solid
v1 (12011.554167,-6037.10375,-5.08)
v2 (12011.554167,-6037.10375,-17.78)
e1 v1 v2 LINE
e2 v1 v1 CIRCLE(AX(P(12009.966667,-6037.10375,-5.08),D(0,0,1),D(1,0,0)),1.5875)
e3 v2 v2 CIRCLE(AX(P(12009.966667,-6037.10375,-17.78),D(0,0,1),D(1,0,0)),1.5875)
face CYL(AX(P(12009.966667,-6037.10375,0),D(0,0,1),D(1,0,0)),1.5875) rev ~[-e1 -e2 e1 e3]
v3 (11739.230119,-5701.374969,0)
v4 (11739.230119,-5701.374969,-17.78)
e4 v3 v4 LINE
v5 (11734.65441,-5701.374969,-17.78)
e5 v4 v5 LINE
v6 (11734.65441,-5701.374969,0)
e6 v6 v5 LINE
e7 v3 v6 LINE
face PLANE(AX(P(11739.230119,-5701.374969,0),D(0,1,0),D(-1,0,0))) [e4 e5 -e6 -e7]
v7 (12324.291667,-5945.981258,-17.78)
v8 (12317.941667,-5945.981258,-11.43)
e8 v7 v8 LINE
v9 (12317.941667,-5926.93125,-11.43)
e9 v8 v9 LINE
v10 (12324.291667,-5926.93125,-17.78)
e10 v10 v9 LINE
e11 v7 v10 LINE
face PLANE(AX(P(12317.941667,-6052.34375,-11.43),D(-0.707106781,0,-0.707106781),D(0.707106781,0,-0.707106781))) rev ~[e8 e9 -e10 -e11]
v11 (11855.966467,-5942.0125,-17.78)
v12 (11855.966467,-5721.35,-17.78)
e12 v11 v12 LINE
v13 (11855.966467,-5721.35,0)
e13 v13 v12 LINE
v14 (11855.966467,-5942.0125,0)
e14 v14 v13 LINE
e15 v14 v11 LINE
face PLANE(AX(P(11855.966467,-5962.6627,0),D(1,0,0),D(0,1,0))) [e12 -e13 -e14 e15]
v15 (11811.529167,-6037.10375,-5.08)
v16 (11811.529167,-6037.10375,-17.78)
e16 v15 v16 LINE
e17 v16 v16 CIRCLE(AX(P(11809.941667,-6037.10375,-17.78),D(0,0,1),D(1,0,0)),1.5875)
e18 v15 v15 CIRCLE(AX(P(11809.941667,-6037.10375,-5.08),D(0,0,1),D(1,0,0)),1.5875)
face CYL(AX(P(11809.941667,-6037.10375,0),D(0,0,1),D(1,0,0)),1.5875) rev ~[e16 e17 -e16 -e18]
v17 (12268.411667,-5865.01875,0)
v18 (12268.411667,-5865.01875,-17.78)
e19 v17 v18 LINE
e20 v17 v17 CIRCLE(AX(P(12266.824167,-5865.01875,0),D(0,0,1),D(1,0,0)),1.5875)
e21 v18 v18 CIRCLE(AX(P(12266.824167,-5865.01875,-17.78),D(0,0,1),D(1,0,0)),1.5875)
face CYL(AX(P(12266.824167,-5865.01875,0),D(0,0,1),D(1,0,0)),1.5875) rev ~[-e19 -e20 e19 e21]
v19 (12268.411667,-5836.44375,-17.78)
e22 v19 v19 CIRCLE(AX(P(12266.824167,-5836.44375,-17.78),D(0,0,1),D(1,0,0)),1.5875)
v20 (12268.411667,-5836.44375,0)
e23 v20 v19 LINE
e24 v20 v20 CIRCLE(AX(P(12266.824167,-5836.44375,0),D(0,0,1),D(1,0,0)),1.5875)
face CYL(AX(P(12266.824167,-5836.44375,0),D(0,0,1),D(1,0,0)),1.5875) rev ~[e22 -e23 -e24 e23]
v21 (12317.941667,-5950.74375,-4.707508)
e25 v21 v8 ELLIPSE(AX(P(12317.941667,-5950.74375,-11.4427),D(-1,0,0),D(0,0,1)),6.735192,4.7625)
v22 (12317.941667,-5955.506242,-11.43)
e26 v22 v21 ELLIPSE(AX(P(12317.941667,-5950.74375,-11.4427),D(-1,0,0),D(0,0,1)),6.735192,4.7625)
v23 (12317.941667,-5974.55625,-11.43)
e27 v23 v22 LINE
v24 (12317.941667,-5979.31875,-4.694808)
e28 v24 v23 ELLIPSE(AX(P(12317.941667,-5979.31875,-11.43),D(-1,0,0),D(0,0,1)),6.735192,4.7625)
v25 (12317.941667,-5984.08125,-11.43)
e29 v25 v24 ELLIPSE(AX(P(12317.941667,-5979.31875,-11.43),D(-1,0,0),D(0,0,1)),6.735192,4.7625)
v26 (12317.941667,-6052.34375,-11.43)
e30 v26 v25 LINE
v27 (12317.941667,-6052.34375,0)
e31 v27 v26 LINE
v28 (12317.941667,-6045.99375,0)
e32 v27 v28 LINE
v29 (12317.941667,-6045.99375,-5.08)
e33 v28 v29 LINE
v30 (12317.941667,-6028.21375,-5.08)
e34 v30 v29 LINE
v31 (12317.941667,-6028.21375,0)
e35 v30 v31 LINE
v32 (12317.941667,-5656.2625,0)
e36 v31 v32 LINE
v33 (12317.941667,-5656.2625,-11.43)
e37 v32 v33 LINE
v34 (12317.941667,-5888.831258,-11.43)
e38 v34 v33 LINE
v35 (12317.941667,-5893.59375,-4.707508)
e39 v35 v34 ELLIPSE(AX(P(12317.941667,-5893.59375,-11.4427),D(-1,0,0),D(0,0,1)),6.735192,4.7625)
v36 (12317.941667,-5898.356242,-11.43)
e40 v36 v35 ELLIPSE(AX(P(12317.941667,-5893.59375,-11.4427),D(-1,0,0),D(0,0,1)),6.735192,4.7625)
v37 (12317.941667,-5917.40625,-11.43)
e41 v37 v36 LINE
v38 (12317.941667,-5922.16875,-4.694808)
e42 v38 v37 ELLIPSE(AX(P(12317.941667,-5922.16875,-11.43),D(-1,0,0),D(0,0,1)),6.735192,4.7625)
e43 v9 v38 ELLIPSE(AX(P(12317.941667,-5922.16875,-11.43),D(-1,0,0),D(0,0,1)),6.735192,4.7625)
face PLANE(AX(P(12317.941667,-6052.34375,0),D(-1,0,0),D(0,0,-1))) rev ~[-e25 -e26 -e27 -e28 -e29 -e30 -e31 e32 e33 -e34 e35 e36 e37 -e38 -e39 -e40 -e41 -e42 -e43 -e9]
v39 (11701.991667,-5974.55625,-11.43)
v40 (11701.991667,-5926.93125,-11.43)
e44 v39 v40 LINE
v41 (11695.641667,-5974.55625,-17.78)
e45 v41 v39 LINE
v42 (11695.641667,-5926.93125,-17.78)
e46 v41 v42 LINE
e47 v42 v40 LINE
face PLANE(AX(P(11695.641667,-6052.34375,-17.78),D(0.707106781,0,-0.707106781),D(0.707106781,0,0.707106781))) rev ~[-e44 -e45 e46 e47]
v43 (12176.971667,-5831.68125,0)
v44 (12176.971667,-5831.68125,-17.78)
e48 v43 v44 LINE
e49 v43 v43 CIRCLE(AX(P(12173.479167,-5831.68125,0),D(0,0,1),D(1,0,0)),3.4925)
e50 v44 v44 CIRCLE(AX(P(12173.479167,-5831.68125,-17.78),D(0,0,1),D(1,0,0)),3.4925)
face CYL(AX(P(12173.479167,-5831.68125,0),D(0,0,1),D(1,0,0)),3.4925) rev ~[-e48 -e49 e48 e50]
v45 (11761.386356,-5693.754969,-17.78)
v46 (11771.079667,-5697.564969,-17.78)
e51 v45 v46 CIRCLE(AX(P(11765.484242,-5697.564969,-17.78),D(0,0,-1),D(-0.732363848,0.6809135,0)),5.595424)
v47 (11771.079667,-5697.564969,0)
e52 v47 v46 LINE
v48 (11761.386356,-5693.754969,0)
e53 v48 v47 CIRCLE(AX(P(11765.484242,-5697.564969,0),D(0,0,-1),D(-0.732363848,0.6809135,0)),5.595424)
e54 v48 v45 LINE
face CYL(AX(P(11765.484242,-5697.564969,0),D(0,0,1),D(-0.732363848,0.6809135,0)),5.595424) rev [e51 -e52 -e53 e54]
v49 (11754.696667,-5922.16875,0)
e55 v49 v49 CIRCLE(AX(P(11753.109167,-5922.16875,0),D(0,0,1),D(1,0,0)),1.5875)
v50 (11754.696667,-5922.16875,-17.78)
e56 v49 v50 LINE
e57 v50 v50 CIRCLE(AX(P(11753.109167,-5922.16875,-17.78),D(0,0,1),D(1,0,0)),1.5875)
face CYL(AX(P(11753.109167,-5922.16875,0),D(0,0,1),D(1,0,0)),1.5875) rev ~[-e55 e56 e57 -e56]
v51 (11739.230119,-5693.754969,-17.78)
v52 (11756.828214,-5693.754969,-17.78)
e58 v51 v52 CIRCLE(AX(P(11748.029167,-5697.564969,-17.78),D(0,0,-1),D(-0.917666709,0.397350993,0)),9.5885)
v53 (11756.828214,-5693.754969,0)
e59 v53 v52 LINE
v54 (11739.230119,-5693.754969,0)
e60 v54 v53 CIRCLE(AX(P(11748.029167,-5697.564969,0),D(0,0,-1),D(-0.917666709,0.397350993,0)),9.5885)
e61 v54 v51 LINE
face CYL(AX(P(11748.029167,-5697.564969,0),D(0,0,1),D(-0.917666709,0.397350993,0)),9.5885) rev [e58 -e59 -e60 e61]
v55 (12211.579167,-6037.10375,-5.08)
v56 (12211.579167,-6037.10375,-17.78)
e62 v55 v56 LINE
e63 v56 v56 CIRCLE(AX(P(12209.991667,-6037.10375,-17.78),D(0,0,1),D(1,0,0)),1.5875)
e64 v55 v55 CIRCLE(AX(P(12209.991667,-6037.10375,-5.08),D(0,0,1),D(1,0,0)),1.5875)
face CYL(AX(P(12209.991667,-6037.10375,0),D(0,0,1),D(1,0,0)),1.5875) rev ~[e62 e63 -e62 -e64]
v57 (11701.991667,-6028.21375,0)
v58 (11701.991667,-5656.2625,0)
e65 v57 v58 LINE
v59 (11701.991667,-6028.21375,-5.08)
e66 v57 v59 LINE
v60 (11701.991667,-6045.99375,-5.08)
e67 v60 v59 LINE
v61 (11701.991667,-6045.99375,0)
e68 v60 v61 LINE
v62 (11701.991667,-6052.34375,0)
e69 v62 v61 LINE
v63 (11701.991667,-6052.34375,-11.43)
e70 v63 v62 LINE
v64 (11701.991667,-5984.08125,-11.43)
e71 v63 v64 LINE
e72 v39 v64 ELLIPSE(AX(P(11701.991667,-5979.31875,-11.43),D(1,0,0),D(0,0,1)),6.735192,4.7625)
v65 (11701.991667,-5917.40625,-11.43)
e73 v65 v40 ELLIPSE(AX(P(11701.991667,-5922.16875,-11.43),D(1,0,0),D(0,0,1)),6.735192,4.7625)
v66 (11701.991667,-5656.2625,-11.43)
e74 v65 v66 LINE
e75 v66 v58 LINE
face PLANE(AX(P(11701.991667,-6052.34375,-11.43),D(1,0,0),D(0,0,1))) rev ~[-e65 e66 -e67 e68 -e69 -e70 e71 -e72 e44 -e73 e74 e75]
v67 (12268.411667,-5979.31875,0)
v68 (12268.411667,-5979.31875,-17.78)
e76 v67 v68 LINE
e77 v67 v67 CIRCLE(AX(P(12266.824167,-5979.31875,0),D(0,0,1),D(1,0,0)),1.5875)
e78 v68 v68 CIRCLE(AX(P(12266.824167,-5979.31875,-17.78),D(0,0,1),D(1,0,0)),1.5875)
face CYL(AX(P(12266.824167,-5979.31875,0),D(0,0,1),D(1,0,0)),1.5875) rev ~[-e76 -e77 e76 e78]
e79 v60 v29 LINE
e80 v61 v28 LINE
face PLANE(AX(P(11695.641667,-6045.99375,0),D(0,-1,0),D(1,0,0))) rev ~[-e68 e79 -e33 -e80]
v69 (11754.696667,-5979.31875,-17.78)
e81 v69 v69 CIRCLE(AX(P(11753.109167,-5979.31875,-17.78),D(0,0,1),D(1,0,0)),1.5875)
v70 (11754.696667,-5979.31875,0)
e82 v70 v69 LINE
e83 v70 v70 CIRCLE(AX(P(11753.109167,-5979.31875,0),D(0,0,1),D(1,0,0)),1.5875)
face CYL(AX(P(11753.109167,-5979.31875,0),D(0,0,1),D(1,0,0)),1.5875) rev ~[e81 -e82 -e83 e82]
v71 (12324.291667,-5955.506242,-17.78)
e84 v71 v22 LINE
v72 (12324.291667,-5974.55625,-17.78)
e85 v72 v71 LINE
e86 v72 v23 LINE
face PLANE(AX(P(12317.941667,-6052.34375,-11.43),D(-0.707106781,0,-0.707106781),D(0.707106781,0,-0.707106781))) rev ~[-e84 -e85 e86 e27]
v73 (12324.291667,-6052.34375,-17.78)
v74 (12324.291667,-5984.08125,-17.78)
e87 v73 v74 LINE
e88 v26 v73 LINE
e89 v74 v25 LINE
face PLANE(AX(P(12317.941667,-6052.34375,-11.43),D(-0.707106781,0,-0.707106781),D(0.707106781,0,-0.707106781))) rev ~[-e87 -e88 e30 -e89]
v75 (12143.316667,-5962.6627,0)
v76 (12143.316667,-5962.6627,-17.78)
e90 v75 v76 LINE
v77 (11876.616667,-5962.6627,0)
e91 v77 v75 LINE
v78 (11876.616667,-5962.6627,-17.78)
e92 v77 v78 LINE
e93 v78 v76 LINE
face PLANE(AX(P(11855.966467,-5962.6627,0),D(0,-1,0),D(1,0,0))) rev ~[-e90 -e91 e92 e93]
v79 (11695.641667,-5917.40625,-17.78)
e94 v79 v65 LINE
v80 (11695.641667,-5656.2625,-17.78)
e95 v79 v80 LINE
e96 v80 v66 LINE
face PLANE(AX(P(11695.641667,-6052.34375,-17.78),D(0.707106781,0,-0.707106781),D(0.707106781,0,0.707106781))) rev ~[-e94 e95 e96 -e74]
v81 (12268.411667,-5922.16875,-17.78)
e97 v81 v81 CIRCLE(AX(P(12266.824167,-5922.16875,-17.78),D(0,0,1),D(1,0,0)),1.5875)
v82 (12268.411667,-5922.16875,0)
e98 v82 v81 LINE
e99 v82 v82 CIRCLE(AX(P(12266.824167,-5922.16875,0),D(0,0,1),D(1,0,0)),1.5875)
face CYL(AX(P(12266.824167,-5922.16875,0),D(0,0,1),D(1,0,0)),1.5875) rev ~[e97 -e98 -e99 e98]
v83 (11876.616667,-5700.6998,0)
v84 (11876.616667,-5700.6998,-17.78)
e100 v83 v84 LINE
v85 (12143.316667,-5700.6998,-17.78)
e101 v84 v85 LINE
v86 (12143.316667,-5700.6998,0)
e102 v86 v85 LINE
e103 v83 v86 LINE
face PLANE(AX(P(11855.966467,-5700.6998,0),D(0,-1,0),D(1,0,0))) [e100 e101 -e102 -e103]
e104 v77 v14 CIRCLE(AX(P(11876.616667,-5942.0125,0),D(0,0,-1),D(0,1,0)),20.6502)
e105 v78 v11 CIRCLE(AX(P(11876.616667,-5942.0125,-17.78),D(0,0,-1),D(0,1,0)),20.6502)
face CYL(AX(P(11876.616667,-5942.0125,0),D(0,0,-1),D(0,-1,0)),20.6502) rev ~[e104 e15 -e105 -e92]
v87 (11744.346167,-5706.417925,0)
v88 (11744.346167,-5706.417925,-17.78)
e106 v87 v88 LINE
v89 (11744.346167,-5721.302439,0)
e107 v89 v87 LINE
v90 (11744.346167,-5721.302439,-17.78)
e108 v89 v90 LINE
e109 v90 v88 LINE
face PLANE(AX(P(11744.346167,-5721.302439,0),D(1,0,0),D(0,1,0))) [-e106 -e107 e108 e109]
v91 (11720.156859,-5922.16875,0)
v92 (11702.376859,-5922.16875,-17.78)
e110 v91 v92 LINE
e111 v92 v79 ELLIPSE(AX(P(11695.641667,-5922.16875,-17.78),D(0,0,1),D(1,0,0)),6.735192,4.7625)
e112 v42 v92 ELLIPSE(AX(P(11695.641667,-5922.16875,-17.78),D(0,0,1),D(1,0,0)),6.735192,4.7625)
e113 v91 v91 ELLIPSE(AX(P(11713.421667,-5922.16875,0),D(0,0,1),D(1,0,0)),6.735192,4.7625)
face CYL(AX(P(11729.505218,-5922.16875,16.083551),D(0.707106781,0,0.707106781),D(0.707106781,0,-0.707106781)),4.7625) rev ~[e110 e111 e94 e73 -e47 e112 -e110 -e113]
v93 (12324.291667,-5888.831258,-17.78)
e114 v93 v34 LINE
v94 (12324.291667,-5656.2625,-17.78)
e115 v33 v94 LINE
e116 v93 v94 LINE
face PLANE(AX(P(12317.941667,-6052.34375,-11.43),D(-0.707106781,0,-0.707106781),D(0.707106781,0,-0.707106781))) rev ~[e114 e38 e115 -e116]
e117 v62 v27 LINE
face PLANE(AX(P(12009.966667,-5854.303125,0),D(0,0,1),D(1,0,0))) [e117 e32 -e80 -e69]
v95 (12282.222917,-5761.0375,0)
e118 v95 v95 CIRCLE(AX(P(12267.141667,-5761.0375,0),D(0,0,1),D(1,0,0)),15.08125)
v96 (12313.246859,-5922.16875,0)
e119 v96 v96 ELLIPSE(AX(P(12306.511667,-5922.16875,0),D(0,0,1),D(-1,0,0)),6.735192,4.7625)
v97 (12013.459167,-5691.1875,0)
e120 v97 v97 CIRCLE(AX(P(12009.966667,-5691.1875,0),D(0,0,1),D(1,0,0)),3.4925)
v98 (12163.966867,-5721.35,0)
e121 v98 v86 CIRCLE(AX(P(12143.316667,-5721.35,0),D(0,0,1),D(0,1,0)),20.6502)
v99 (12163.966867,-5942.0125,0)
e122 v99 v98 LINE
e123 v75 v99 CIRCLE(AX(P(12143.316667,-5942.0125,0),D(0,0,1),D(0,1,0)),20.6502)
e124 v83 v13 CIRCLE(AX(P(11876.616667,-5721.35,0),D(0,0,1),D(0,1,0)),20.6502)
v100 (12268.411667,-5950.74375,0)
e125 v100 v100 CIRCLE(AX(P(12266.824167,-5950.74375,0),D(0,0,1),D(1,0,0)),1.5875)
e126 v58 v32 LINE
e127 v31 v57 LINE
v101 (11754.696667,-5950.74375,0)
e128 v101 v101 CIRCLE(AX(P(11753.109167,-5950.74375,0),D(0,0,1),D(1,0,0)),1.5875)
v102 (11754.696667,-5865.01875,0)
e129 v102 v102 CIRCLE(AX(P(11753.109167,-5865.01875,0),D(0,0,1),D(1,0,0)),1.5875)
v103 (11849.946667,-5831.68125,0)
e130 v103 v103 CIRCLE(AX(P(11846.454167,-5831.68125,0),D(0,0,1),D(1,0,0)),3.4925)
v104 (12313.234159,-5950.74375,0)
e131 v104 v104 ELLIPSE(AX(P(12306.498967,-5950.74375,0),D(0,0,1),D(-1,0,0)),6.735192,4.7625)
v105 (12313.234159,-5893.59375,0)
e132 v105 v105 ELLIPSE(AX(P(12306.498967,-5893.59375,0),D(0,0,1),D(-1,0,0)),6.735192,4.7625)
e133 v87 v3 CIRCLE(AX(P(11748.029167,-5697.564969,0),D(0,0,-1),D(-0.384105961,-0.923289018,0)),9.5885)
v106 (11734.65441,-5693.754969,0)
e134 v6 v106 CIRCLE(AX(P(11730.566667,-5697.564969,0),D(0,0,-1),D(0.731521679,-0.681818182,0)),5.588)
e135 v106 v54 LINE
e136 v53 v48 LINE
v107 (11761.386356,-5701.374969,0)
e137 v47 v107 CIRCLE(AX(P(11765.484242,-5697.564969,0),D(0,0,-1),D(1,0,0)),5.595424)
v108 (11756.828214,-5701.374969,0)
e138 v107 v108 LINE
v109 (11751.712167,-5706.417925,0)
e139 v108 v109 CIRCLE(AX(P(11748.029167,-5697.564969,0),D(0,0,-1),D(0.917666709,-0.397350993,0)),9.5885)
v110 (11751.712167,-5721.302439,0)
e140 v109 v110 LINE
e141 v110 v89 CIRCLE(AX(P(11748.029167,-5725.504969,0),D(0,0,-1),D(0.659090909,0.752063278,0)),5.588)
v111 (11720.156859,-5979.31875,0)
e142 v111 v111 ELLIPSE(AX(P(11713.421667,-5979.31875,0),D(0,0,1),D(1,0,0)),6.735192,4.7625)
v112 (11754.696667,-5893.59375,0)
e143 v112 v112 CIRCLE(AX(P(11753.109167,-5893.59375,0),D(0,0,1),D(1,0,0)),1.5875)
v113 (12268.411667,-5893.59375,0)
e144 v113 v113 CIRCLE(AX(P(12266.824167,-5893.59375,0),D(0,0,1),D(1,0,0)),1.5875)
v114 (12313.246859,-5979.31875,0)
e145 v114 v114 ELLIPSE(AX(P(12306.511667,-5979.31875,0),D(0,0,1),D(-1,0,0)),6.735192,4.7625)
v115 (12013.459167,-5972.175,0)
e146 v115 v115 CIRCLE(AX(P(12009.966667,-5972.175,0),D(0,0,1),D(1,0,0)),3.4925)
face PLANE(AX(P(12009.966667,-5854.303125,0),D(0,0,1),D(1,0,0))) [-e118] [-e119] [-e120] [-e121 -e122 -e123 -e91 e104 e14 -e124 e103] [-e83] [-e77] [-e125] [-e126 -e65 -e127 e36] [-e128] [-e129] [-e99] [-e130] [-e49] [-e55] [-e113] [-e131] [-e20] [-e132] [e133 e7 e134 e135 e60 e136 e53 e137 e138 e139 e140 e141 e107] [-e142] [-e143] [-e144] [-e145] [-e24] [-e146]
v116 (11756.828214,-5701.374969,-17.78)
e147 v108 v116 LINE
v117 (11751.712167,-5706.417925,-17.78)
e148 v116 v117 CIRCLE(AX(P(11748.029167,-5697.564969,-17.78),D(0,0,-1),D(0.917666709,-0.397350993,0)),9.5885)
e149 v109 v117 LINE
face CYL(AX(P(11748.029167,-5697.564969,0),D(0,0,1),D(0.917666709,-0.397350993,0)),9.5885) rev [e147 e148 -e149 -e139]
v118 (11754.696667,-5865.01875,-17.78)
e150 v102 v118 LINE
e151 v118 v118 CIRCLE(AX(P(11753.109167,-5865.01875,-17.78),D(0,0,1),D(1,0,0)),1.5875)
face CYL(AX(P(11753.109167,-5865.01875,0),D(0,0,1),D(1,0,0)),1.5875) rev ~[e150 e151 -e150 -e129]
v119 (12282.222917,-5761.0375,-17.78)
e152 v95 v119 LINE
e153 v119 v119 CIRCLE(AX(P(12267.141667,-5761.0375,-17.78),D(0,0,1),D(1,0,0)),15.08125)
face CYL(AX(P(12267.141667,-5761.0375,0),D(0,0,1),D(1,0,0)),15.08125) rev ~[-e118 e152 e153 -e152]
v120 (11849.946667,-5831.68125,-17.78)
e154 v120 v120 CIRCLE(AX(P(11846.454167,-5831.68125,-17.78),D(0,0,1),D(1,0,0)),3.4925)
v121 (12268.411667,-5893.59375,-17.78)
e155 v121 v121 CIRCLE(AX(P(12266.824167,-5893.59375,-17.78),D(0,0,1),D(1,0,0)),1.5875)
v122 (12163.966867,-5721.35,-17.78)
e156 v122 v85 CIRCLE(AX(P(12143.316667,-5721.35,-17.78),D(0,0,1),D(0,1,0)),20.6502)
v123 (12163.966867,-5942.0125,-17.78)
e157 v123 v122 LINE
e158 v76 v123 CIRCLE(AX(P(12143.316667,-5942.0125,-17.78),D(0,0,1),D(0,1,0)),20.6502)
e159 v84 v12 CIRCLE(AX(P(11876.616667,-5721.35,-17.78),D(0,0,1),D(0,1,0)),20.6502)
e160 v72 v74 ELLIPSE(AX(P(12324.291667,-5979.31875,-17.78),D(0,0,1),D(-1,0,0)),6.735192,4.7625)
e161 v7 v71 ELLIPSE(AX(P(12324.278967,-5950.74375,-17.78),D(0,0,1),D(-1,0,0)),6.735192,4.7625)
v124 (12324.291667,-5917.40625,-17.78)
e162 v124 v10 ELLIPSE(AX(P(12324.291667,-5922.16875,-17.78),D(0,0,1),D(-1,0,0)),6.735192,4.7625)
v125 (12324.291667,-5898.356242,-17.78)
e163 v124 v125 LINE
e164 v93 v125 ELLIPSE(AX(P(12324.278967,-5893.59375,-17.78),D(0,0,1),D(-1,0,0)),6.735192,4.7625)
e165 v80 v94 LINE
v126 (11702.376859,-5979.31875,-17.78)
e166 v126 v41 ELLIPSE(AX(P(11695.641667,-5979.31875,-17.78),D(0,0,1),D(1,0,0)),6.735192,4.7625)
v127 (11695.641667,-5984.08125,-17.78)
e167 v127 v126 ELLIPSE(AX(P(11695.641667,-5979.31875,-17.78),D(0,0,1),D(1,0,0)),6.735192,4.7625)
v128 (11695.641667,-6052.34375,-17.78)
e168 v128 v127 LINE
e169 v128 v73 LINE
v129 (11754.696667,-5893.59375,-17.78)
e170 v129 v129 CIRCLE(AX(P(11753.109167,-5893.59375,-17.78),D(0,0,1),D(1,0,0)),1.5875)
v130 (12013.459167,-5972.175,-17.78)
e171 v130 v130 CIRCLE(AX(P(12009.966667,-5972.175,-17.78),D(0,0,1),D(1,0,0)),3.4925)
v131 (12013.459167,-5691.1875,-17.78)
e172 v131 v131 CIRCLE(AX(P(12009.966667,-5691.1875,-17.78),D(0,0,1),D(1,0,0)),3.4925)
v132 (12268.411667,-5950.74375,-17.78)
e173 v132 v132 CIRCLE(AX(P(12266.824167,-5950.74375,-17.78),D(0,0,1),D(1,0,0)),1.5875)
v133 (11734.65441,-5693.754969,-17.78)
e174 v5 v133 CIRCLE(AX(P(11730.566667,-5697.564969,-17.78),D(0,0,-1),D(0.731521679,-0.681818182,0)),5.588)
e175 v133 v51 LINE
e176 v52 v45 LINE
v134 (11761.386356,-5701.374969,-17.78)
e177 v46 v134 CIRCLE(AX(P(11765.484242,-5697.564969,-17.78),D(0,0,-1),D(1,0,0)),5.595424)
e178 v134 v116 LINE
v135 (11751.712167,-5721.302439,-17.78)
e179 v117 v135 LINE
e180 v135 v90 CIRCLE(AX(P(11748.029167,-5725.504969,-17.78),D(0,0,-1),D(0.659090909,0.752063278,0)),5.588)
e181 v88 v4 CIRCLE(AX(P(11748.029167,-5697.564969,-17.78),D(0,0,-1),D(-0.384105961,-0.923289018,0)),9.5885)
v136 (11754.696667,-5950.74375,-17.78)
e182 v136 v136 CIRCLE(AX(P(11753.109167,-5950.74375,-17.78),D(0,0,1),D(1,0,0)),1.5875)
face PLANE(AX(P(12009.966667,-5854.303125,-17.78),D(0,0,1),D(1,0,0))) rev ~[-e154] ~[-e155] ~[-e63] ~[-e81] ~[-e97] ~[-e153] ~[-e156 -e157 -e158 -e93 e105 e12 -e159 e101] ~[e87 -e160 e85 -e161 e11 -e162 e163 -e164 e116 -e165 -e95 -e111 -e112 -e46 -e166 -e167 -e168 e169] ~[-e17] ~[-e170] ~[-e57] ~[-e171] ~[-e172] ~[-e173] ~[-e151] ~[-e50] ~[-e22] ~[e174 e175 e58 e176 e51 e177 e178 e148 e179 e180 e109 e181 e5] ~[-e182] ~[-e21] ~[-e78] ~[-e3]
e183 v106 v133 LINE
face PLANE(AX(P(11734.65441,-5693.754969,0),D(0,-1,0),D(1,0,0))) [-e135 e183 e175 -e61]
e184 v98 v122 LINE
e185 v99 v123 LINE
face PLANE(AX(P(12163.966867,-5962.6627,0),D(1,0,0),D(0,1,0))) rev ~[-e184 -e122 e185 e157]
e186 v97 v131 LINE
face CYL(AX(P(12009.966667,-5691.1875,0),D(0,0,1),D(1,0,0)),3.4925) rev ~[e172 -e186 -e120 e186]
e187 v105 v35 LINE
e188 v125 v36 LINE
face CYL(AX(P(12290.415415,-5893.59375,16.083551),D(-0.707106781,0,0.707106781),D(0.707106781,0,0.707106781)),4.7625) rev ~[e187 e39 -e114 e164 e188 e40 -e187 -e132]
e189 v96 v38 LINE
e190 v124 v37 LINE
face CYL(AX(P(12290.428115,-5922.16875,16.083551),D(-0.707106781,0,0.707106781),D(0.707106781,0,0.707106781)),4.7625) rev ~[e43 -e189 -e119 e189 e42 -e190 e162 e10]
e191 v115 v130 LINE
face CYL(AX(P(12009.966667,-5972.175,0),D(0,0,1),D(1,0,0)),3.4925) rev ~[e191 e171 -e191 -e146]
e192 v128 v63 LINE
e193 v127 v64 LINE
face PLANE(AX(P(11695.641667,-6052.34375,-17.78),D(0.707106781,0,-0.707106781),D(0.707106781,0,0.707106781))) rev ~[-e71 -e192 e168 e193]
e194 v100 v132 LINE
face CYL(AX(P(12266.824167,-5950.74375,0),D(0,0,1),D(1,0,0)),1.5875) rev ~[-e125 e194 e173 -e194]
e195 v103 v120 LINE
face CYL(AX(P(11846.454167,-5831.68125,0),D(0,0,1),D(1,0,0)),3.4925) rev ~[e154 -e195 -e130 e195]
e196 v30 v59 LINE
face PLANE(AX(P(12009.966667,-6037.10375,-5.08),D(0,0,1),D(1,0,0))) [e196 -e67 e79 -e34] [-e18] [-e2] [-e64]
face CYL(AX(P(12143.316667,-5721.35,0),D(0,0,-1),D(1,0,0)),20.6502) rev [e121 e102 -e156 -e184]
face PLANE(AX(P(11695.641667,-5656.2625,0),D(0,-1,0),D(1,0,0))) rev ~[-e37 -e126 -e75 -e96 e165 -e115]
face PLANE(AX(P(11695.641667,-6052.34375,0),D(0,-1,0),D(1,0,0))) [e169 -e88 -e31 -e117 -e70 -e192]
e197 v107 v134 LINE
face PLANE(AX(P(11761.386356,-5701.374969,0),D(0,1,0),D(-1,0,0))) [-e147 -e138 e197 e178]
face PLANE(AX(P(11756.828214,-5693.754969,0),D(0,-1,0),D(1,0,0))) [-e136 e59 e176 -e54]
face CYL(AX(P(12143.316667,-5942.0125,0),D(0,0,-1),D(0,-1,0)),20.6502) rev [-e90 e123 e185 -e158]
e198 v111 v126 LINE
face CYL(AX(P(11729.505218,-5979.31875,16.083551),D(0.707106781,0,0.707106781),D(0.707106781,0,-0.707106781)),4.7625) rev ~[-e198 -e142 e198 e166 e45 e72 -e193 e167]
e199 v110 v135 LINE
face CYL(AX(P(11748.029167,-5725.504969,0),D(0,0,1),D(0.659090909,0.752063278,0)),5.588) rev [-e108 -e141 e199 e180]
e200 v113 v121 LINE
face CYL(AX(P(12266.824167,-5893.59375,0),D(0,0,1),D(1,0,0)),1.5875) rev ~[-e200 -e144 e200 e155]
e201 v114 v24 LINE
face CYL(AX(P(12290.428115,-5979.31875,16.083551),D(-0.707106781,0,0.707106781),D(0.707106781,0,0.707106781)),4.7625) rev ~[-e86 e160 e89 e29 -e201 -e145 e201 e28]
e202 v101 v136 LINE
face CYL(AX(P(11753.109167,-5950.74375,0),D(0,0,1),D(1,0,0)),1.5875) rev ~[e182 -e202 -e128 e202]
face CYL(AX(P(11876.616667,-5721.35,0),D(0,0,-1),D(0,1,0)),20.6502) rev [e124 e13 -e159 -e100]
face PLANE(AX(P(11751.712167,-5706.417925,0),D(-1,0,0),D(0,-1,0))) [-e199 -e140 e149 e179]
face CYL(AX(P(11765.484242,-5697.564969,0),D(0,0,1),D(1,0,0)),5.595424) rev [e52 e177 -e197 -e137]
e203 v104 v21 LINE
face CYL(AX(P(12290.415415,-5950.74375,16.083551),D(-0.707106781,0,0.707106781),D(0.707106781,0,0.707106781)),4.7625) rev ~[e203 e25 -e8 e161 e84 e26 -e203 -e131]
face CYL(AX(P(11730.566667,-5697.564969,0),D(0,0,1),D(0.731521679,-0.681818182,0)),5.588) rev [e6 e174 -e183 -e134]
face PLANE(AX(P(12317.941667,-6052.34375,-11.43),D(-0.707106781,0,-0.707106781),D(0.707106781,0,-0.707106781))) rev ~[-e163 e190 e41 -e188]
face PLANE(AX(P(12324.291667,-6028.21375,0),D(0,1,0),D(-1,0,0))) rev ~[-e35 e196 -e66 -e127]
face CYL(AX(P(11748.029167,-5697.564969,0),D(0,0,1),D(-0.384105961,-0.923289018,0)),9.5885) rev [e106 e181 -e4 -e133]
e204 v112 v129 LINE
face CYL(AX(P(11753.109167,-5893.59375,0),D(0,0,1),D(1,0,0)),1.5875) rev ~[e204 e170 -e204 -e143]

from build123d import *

# Parameters (mm, degrees)
CABFRONTOUTLINE_W               = 628.65
CABFRONTOUTLINE_H               = 396.08125
CABFRONT_THICKNESS_DEPTH        = 17.78
CABFRONT_COINDOORCUTS_R         = 1.5875
CABFRONT_COINDOORCUTS_R_2       = 15.08125
CABFRONT_COINDOORCUTS_R_3       = 3.4925
CABFRONT_COINDOORCUTS_W         = 308.0004
CABFRONT_COINDOORCUTS_H         = 261.9629
CUT_EXTRUDE1_DEPTH              = 17.78
CABFRONTBOTTOMLEDGE_DEPTH_DEPTH = 5.08
CUT_EXTRUDE4_DEPTH              = 396.08125
FILLET1_R                       = 20.6502
SKETCH2_R                       = 4.7625
CUT_EXTRUDE5_DEPTH              = 76.2
SKETCH3_R                       = 4.7625
CUT_EXTRUDE6_DEPTH              = 76.2
SKETCH4_R                       = 4.7625
CUT_EXTRUDE7_DEPTH              = 76.2


with BuildPart() as part:
    # CabFrontOutline → CabFront_Thickness (new body)
    with BuildSketch(Plane.XY):
        with Locations((12009.966666666, -5854.303125)):
            Rectangle(CABFRONTOUTLINE_W, CABFRONTOUTLINE_H)
    extrude(amount=-CABFRONT_THICKNESS_DEPTH)

    # CabFront_CoinDoorCuts → Cut-Extrude1 (cut)
    with BuildSketch(Plane.XY):
        with Locations((11753.109166666, -5893.59375)):
            Circle(CABFRONT_COINDOORCUTS_R)
        with Locations((11753.109166666, -5950.74375)):
            Circle(CABFRONT_COINDOORCUTS_R)
        with Locations((12266.824166666, -5893.59375)):
            Circle(CABFRONT_COINDOORCUTS_R)
        with Locations((12266.824166666, -5950.74375)):
            Circle(CABFRONT_COINDOORCUTS_R)
        with Locations((12266.824166666, -5836.44375)):
            Circle(CABFRONT_COINDOORCUTS_R)
        with Locations((12267.141666666, -5761.0375)):
            Circle(CABFRONT_COINDOORCUTS_R_2)
        with Locations((12173.479166666, -5831.68125)):
            Circle(CABFRONT_COINDOORCUTS_R_3)
        with Locations((12266.824166666, -5865.01875)):
            Circle(CABFRONT_COINDOORCUTS_R)
        with Locations((12266.824166666, -5922.16875)):
            Circle(CABFRONT_COINDOORCUTS_R)
        with Locations((12266.824166666, -5979.31875)):
            Circle(CABFRONT_COINDOORCUTS_R)
        with Locations((12209.991666666, -6037.10375)):
            Circle(CABFRONT_COINDOORCUTS_R)
        with Locations((12009.966666666, -6037.10375)):
            Circle(CABFRONT_COINDOORCUTS_R)
        with Locations((11809.941666666, -6037.10375)):
            Circle(CABFRONT_COINDOORCUTS_R)
        with Locations((11753.109166666, -5979.31875)):
            Circle(CABFRONT_COINDOORCUTS_R)
        with Locations((11753.109166666, -5922.16875)):
            Circle(CABFRONT_COINDOORCUTS_R)
        with Locations((11753.109166666, -5865.01875)):
            Circle(CABFRONT_COINDOORCUTS_R)
        with Locations((11846.454166666, -5831.68125)):
            Circle(CABFRONT_COINDOORCUTS_R_3)
        with Locations((12009.966666666, -5972.175)):
            Circle(CABFRONT_COINDOORCUTS_R_3)
        with Locations((12009.966666666, -5691.1875)):
            Circle(CABFRONT_COINDOORCUTS_R_3)
        with Locations((12009.966666666, -5831.68125)):
            Rectangle(CABFRONT_COINDOORCUTS_W, CABFRONT_COINDOORCUTS_H)
        with BuildLine():
            Line((11734.654409808, -5693.754968556), (11739.23011943, -5693.754968556))
            ThreePointArc((11739.23011943, -5693.754968556), (11748.029166666, -5687.976468556), (11756.828213901, -5693.754968556))
            Line((11756.828213901, -5693.754968556), (11761.386355753, -5693.754968556))
            ThreePointArc((11761.386355753, -5693.754968556), (11767.531113043, -5692.357368906), (11771.079666666, -5697.564968556))
            ThreePointArc((11771.079666666, -5697.564968556), (11767.531113043, -5702.772568206), (11761.386355753, -5701.374968556))
            Line((11761.386355753, -5701.374968556), (11756.828213901, -5701.374968556))
            ThreePointArc((11756.828213901, -5701.374968556), (11754.760305425, -5704.393665595), (11751.712166666, -5706.417925308))
            Line((11751.712166666, -5706.417925308), (11751.712166666, -5721.30243896))
            ThreePointArc((11751.712166666, -5721.30243896), (11748.029166666, -5731.092968556), (11744.346166666, -5721.30243896))
            Line((11744.346166666, -5721.30243896), (11744.346166666, -5706.417925308))
            ThreePointArc((11744.346166666, -5706.417925308), (11741.298027907, -5704.393665595), (11739.23011943, -5701.374968556))
            Line((11739.23011943, -5701.374968556), (11734.654409809, -5701.374968556))
            ThreePointArc((11734.654409809, -5701.374968556), (11724.978666666, -5697.564968556), (11734.654409808, -5693.754968556))
        make_face()
    extrude(amount=-CUT_EXTRUDE1_DEPTH, mode=Mode.SUBTRACT)

    # CabFront_BottomLedge → CabFrontBottomLedge_Depth (cut)
    with BuildSketch(Plane.XY):
        Polygon((11975.041666666, -6028.21375), (11695.641666666, -6028.21375), (11695.641666666, -6045.99375), (12324.291666666, -6045.99375), (12324.291666666, -6028.21375), align=None)
    extrude(amount=-CABFRONTBOTTOMLEDGE_DEPTH_DEPTH, mode=Mode.SUBTRACT)

    # CabFront_EdgeBevel → Cut-Extrude4 (cut)
    with BuildSketch(Plane.XZ.offset(6052.34375)):
        Polygon((11701.991666666, -11.43), (11701.991666666, 0), (11695.641666666, 0), (11695.641666666, -17.78), align=None)
        Polygon((12317.941666666, -11.43), (12324.291666666, -17.78), (12324.291666666, 0), (12317.941666666, 0), align=None)
    extrude(amount=-CUT_EXTRUDE4_DEPTH, mode=Mode.SUBTRACT)

    # Fillet1
    fillet1_edges = [part.edges().sort_by_distance(p)[0] for p in [
        (11855.966466666, -5962.6627, -8.89),
        (11855.966466666, -5700.6998, -8.89),
        (12163.966866666, -5700.6998, -8.89),
        (12163.966866666, -5962.6627, -8.89),
    ]]
    fillet(fillet1_edges, radius=FILLET1_R)

    # Sketch2 → Cut-Extrude5 (cut)
    with BuildSketch(Plane(origin=(5872.794384557, 0, 5872.794384557), x_dir=(0.707106781, 0, -0.707106781), z_dir=(0.707106781, 0, 0.707106781))):
        with Locations((8282.639891397, -5922.16875)):
            Circle(SKETCH2_R)
        with Locations((8282.639891397, -5979.31875)):
            Circle(SKETCH2_R)
    extrude(amount=-CUT_EXTRUDE5_DEPTH, mode=Mode.SUBTRACT)

    # Sketch3 → Cut-Extrude6 (cut)
    with BuildSketch(Plane(origin=(6137.172282109, 0, -6137.172282109), x_dir=(0.707106781, 0, 0.707106781), z_dir=(-0.707106781, 0, 0.707106781))):
        with Locations((8702.017852251, -5922.16875)):
            Circle(SKETCH3_R)
        with Locations((8702.017852251, -5979.31875)):
            Circle(SKETCH3_R)
    extrude(amount=-CUT_EXTRUDE6_DEPTH, mode=Mode.SUBTRACT)

    # Sketch4 → Cut-Extrude7 (cut)
    with BuildSketch(Plane(origin=(6137.165932109, 0, -6137.165932109), x_dir=(0.707106781, 0, 0.707106781), z_dir=(-0.707106781, 0, 0.707106781))):
        with Locations((8702.008871995, -5950.74375)):
            Circle(SKETCH4_R)
        with Locations((8702.008871995, -5893.59375)):
            Circle(SKETCH4_R)
    extrude(amount=-CUT_EXTRUDE7_DEPTH, mode=Mode.SUBTRACT)


solid = part.part
